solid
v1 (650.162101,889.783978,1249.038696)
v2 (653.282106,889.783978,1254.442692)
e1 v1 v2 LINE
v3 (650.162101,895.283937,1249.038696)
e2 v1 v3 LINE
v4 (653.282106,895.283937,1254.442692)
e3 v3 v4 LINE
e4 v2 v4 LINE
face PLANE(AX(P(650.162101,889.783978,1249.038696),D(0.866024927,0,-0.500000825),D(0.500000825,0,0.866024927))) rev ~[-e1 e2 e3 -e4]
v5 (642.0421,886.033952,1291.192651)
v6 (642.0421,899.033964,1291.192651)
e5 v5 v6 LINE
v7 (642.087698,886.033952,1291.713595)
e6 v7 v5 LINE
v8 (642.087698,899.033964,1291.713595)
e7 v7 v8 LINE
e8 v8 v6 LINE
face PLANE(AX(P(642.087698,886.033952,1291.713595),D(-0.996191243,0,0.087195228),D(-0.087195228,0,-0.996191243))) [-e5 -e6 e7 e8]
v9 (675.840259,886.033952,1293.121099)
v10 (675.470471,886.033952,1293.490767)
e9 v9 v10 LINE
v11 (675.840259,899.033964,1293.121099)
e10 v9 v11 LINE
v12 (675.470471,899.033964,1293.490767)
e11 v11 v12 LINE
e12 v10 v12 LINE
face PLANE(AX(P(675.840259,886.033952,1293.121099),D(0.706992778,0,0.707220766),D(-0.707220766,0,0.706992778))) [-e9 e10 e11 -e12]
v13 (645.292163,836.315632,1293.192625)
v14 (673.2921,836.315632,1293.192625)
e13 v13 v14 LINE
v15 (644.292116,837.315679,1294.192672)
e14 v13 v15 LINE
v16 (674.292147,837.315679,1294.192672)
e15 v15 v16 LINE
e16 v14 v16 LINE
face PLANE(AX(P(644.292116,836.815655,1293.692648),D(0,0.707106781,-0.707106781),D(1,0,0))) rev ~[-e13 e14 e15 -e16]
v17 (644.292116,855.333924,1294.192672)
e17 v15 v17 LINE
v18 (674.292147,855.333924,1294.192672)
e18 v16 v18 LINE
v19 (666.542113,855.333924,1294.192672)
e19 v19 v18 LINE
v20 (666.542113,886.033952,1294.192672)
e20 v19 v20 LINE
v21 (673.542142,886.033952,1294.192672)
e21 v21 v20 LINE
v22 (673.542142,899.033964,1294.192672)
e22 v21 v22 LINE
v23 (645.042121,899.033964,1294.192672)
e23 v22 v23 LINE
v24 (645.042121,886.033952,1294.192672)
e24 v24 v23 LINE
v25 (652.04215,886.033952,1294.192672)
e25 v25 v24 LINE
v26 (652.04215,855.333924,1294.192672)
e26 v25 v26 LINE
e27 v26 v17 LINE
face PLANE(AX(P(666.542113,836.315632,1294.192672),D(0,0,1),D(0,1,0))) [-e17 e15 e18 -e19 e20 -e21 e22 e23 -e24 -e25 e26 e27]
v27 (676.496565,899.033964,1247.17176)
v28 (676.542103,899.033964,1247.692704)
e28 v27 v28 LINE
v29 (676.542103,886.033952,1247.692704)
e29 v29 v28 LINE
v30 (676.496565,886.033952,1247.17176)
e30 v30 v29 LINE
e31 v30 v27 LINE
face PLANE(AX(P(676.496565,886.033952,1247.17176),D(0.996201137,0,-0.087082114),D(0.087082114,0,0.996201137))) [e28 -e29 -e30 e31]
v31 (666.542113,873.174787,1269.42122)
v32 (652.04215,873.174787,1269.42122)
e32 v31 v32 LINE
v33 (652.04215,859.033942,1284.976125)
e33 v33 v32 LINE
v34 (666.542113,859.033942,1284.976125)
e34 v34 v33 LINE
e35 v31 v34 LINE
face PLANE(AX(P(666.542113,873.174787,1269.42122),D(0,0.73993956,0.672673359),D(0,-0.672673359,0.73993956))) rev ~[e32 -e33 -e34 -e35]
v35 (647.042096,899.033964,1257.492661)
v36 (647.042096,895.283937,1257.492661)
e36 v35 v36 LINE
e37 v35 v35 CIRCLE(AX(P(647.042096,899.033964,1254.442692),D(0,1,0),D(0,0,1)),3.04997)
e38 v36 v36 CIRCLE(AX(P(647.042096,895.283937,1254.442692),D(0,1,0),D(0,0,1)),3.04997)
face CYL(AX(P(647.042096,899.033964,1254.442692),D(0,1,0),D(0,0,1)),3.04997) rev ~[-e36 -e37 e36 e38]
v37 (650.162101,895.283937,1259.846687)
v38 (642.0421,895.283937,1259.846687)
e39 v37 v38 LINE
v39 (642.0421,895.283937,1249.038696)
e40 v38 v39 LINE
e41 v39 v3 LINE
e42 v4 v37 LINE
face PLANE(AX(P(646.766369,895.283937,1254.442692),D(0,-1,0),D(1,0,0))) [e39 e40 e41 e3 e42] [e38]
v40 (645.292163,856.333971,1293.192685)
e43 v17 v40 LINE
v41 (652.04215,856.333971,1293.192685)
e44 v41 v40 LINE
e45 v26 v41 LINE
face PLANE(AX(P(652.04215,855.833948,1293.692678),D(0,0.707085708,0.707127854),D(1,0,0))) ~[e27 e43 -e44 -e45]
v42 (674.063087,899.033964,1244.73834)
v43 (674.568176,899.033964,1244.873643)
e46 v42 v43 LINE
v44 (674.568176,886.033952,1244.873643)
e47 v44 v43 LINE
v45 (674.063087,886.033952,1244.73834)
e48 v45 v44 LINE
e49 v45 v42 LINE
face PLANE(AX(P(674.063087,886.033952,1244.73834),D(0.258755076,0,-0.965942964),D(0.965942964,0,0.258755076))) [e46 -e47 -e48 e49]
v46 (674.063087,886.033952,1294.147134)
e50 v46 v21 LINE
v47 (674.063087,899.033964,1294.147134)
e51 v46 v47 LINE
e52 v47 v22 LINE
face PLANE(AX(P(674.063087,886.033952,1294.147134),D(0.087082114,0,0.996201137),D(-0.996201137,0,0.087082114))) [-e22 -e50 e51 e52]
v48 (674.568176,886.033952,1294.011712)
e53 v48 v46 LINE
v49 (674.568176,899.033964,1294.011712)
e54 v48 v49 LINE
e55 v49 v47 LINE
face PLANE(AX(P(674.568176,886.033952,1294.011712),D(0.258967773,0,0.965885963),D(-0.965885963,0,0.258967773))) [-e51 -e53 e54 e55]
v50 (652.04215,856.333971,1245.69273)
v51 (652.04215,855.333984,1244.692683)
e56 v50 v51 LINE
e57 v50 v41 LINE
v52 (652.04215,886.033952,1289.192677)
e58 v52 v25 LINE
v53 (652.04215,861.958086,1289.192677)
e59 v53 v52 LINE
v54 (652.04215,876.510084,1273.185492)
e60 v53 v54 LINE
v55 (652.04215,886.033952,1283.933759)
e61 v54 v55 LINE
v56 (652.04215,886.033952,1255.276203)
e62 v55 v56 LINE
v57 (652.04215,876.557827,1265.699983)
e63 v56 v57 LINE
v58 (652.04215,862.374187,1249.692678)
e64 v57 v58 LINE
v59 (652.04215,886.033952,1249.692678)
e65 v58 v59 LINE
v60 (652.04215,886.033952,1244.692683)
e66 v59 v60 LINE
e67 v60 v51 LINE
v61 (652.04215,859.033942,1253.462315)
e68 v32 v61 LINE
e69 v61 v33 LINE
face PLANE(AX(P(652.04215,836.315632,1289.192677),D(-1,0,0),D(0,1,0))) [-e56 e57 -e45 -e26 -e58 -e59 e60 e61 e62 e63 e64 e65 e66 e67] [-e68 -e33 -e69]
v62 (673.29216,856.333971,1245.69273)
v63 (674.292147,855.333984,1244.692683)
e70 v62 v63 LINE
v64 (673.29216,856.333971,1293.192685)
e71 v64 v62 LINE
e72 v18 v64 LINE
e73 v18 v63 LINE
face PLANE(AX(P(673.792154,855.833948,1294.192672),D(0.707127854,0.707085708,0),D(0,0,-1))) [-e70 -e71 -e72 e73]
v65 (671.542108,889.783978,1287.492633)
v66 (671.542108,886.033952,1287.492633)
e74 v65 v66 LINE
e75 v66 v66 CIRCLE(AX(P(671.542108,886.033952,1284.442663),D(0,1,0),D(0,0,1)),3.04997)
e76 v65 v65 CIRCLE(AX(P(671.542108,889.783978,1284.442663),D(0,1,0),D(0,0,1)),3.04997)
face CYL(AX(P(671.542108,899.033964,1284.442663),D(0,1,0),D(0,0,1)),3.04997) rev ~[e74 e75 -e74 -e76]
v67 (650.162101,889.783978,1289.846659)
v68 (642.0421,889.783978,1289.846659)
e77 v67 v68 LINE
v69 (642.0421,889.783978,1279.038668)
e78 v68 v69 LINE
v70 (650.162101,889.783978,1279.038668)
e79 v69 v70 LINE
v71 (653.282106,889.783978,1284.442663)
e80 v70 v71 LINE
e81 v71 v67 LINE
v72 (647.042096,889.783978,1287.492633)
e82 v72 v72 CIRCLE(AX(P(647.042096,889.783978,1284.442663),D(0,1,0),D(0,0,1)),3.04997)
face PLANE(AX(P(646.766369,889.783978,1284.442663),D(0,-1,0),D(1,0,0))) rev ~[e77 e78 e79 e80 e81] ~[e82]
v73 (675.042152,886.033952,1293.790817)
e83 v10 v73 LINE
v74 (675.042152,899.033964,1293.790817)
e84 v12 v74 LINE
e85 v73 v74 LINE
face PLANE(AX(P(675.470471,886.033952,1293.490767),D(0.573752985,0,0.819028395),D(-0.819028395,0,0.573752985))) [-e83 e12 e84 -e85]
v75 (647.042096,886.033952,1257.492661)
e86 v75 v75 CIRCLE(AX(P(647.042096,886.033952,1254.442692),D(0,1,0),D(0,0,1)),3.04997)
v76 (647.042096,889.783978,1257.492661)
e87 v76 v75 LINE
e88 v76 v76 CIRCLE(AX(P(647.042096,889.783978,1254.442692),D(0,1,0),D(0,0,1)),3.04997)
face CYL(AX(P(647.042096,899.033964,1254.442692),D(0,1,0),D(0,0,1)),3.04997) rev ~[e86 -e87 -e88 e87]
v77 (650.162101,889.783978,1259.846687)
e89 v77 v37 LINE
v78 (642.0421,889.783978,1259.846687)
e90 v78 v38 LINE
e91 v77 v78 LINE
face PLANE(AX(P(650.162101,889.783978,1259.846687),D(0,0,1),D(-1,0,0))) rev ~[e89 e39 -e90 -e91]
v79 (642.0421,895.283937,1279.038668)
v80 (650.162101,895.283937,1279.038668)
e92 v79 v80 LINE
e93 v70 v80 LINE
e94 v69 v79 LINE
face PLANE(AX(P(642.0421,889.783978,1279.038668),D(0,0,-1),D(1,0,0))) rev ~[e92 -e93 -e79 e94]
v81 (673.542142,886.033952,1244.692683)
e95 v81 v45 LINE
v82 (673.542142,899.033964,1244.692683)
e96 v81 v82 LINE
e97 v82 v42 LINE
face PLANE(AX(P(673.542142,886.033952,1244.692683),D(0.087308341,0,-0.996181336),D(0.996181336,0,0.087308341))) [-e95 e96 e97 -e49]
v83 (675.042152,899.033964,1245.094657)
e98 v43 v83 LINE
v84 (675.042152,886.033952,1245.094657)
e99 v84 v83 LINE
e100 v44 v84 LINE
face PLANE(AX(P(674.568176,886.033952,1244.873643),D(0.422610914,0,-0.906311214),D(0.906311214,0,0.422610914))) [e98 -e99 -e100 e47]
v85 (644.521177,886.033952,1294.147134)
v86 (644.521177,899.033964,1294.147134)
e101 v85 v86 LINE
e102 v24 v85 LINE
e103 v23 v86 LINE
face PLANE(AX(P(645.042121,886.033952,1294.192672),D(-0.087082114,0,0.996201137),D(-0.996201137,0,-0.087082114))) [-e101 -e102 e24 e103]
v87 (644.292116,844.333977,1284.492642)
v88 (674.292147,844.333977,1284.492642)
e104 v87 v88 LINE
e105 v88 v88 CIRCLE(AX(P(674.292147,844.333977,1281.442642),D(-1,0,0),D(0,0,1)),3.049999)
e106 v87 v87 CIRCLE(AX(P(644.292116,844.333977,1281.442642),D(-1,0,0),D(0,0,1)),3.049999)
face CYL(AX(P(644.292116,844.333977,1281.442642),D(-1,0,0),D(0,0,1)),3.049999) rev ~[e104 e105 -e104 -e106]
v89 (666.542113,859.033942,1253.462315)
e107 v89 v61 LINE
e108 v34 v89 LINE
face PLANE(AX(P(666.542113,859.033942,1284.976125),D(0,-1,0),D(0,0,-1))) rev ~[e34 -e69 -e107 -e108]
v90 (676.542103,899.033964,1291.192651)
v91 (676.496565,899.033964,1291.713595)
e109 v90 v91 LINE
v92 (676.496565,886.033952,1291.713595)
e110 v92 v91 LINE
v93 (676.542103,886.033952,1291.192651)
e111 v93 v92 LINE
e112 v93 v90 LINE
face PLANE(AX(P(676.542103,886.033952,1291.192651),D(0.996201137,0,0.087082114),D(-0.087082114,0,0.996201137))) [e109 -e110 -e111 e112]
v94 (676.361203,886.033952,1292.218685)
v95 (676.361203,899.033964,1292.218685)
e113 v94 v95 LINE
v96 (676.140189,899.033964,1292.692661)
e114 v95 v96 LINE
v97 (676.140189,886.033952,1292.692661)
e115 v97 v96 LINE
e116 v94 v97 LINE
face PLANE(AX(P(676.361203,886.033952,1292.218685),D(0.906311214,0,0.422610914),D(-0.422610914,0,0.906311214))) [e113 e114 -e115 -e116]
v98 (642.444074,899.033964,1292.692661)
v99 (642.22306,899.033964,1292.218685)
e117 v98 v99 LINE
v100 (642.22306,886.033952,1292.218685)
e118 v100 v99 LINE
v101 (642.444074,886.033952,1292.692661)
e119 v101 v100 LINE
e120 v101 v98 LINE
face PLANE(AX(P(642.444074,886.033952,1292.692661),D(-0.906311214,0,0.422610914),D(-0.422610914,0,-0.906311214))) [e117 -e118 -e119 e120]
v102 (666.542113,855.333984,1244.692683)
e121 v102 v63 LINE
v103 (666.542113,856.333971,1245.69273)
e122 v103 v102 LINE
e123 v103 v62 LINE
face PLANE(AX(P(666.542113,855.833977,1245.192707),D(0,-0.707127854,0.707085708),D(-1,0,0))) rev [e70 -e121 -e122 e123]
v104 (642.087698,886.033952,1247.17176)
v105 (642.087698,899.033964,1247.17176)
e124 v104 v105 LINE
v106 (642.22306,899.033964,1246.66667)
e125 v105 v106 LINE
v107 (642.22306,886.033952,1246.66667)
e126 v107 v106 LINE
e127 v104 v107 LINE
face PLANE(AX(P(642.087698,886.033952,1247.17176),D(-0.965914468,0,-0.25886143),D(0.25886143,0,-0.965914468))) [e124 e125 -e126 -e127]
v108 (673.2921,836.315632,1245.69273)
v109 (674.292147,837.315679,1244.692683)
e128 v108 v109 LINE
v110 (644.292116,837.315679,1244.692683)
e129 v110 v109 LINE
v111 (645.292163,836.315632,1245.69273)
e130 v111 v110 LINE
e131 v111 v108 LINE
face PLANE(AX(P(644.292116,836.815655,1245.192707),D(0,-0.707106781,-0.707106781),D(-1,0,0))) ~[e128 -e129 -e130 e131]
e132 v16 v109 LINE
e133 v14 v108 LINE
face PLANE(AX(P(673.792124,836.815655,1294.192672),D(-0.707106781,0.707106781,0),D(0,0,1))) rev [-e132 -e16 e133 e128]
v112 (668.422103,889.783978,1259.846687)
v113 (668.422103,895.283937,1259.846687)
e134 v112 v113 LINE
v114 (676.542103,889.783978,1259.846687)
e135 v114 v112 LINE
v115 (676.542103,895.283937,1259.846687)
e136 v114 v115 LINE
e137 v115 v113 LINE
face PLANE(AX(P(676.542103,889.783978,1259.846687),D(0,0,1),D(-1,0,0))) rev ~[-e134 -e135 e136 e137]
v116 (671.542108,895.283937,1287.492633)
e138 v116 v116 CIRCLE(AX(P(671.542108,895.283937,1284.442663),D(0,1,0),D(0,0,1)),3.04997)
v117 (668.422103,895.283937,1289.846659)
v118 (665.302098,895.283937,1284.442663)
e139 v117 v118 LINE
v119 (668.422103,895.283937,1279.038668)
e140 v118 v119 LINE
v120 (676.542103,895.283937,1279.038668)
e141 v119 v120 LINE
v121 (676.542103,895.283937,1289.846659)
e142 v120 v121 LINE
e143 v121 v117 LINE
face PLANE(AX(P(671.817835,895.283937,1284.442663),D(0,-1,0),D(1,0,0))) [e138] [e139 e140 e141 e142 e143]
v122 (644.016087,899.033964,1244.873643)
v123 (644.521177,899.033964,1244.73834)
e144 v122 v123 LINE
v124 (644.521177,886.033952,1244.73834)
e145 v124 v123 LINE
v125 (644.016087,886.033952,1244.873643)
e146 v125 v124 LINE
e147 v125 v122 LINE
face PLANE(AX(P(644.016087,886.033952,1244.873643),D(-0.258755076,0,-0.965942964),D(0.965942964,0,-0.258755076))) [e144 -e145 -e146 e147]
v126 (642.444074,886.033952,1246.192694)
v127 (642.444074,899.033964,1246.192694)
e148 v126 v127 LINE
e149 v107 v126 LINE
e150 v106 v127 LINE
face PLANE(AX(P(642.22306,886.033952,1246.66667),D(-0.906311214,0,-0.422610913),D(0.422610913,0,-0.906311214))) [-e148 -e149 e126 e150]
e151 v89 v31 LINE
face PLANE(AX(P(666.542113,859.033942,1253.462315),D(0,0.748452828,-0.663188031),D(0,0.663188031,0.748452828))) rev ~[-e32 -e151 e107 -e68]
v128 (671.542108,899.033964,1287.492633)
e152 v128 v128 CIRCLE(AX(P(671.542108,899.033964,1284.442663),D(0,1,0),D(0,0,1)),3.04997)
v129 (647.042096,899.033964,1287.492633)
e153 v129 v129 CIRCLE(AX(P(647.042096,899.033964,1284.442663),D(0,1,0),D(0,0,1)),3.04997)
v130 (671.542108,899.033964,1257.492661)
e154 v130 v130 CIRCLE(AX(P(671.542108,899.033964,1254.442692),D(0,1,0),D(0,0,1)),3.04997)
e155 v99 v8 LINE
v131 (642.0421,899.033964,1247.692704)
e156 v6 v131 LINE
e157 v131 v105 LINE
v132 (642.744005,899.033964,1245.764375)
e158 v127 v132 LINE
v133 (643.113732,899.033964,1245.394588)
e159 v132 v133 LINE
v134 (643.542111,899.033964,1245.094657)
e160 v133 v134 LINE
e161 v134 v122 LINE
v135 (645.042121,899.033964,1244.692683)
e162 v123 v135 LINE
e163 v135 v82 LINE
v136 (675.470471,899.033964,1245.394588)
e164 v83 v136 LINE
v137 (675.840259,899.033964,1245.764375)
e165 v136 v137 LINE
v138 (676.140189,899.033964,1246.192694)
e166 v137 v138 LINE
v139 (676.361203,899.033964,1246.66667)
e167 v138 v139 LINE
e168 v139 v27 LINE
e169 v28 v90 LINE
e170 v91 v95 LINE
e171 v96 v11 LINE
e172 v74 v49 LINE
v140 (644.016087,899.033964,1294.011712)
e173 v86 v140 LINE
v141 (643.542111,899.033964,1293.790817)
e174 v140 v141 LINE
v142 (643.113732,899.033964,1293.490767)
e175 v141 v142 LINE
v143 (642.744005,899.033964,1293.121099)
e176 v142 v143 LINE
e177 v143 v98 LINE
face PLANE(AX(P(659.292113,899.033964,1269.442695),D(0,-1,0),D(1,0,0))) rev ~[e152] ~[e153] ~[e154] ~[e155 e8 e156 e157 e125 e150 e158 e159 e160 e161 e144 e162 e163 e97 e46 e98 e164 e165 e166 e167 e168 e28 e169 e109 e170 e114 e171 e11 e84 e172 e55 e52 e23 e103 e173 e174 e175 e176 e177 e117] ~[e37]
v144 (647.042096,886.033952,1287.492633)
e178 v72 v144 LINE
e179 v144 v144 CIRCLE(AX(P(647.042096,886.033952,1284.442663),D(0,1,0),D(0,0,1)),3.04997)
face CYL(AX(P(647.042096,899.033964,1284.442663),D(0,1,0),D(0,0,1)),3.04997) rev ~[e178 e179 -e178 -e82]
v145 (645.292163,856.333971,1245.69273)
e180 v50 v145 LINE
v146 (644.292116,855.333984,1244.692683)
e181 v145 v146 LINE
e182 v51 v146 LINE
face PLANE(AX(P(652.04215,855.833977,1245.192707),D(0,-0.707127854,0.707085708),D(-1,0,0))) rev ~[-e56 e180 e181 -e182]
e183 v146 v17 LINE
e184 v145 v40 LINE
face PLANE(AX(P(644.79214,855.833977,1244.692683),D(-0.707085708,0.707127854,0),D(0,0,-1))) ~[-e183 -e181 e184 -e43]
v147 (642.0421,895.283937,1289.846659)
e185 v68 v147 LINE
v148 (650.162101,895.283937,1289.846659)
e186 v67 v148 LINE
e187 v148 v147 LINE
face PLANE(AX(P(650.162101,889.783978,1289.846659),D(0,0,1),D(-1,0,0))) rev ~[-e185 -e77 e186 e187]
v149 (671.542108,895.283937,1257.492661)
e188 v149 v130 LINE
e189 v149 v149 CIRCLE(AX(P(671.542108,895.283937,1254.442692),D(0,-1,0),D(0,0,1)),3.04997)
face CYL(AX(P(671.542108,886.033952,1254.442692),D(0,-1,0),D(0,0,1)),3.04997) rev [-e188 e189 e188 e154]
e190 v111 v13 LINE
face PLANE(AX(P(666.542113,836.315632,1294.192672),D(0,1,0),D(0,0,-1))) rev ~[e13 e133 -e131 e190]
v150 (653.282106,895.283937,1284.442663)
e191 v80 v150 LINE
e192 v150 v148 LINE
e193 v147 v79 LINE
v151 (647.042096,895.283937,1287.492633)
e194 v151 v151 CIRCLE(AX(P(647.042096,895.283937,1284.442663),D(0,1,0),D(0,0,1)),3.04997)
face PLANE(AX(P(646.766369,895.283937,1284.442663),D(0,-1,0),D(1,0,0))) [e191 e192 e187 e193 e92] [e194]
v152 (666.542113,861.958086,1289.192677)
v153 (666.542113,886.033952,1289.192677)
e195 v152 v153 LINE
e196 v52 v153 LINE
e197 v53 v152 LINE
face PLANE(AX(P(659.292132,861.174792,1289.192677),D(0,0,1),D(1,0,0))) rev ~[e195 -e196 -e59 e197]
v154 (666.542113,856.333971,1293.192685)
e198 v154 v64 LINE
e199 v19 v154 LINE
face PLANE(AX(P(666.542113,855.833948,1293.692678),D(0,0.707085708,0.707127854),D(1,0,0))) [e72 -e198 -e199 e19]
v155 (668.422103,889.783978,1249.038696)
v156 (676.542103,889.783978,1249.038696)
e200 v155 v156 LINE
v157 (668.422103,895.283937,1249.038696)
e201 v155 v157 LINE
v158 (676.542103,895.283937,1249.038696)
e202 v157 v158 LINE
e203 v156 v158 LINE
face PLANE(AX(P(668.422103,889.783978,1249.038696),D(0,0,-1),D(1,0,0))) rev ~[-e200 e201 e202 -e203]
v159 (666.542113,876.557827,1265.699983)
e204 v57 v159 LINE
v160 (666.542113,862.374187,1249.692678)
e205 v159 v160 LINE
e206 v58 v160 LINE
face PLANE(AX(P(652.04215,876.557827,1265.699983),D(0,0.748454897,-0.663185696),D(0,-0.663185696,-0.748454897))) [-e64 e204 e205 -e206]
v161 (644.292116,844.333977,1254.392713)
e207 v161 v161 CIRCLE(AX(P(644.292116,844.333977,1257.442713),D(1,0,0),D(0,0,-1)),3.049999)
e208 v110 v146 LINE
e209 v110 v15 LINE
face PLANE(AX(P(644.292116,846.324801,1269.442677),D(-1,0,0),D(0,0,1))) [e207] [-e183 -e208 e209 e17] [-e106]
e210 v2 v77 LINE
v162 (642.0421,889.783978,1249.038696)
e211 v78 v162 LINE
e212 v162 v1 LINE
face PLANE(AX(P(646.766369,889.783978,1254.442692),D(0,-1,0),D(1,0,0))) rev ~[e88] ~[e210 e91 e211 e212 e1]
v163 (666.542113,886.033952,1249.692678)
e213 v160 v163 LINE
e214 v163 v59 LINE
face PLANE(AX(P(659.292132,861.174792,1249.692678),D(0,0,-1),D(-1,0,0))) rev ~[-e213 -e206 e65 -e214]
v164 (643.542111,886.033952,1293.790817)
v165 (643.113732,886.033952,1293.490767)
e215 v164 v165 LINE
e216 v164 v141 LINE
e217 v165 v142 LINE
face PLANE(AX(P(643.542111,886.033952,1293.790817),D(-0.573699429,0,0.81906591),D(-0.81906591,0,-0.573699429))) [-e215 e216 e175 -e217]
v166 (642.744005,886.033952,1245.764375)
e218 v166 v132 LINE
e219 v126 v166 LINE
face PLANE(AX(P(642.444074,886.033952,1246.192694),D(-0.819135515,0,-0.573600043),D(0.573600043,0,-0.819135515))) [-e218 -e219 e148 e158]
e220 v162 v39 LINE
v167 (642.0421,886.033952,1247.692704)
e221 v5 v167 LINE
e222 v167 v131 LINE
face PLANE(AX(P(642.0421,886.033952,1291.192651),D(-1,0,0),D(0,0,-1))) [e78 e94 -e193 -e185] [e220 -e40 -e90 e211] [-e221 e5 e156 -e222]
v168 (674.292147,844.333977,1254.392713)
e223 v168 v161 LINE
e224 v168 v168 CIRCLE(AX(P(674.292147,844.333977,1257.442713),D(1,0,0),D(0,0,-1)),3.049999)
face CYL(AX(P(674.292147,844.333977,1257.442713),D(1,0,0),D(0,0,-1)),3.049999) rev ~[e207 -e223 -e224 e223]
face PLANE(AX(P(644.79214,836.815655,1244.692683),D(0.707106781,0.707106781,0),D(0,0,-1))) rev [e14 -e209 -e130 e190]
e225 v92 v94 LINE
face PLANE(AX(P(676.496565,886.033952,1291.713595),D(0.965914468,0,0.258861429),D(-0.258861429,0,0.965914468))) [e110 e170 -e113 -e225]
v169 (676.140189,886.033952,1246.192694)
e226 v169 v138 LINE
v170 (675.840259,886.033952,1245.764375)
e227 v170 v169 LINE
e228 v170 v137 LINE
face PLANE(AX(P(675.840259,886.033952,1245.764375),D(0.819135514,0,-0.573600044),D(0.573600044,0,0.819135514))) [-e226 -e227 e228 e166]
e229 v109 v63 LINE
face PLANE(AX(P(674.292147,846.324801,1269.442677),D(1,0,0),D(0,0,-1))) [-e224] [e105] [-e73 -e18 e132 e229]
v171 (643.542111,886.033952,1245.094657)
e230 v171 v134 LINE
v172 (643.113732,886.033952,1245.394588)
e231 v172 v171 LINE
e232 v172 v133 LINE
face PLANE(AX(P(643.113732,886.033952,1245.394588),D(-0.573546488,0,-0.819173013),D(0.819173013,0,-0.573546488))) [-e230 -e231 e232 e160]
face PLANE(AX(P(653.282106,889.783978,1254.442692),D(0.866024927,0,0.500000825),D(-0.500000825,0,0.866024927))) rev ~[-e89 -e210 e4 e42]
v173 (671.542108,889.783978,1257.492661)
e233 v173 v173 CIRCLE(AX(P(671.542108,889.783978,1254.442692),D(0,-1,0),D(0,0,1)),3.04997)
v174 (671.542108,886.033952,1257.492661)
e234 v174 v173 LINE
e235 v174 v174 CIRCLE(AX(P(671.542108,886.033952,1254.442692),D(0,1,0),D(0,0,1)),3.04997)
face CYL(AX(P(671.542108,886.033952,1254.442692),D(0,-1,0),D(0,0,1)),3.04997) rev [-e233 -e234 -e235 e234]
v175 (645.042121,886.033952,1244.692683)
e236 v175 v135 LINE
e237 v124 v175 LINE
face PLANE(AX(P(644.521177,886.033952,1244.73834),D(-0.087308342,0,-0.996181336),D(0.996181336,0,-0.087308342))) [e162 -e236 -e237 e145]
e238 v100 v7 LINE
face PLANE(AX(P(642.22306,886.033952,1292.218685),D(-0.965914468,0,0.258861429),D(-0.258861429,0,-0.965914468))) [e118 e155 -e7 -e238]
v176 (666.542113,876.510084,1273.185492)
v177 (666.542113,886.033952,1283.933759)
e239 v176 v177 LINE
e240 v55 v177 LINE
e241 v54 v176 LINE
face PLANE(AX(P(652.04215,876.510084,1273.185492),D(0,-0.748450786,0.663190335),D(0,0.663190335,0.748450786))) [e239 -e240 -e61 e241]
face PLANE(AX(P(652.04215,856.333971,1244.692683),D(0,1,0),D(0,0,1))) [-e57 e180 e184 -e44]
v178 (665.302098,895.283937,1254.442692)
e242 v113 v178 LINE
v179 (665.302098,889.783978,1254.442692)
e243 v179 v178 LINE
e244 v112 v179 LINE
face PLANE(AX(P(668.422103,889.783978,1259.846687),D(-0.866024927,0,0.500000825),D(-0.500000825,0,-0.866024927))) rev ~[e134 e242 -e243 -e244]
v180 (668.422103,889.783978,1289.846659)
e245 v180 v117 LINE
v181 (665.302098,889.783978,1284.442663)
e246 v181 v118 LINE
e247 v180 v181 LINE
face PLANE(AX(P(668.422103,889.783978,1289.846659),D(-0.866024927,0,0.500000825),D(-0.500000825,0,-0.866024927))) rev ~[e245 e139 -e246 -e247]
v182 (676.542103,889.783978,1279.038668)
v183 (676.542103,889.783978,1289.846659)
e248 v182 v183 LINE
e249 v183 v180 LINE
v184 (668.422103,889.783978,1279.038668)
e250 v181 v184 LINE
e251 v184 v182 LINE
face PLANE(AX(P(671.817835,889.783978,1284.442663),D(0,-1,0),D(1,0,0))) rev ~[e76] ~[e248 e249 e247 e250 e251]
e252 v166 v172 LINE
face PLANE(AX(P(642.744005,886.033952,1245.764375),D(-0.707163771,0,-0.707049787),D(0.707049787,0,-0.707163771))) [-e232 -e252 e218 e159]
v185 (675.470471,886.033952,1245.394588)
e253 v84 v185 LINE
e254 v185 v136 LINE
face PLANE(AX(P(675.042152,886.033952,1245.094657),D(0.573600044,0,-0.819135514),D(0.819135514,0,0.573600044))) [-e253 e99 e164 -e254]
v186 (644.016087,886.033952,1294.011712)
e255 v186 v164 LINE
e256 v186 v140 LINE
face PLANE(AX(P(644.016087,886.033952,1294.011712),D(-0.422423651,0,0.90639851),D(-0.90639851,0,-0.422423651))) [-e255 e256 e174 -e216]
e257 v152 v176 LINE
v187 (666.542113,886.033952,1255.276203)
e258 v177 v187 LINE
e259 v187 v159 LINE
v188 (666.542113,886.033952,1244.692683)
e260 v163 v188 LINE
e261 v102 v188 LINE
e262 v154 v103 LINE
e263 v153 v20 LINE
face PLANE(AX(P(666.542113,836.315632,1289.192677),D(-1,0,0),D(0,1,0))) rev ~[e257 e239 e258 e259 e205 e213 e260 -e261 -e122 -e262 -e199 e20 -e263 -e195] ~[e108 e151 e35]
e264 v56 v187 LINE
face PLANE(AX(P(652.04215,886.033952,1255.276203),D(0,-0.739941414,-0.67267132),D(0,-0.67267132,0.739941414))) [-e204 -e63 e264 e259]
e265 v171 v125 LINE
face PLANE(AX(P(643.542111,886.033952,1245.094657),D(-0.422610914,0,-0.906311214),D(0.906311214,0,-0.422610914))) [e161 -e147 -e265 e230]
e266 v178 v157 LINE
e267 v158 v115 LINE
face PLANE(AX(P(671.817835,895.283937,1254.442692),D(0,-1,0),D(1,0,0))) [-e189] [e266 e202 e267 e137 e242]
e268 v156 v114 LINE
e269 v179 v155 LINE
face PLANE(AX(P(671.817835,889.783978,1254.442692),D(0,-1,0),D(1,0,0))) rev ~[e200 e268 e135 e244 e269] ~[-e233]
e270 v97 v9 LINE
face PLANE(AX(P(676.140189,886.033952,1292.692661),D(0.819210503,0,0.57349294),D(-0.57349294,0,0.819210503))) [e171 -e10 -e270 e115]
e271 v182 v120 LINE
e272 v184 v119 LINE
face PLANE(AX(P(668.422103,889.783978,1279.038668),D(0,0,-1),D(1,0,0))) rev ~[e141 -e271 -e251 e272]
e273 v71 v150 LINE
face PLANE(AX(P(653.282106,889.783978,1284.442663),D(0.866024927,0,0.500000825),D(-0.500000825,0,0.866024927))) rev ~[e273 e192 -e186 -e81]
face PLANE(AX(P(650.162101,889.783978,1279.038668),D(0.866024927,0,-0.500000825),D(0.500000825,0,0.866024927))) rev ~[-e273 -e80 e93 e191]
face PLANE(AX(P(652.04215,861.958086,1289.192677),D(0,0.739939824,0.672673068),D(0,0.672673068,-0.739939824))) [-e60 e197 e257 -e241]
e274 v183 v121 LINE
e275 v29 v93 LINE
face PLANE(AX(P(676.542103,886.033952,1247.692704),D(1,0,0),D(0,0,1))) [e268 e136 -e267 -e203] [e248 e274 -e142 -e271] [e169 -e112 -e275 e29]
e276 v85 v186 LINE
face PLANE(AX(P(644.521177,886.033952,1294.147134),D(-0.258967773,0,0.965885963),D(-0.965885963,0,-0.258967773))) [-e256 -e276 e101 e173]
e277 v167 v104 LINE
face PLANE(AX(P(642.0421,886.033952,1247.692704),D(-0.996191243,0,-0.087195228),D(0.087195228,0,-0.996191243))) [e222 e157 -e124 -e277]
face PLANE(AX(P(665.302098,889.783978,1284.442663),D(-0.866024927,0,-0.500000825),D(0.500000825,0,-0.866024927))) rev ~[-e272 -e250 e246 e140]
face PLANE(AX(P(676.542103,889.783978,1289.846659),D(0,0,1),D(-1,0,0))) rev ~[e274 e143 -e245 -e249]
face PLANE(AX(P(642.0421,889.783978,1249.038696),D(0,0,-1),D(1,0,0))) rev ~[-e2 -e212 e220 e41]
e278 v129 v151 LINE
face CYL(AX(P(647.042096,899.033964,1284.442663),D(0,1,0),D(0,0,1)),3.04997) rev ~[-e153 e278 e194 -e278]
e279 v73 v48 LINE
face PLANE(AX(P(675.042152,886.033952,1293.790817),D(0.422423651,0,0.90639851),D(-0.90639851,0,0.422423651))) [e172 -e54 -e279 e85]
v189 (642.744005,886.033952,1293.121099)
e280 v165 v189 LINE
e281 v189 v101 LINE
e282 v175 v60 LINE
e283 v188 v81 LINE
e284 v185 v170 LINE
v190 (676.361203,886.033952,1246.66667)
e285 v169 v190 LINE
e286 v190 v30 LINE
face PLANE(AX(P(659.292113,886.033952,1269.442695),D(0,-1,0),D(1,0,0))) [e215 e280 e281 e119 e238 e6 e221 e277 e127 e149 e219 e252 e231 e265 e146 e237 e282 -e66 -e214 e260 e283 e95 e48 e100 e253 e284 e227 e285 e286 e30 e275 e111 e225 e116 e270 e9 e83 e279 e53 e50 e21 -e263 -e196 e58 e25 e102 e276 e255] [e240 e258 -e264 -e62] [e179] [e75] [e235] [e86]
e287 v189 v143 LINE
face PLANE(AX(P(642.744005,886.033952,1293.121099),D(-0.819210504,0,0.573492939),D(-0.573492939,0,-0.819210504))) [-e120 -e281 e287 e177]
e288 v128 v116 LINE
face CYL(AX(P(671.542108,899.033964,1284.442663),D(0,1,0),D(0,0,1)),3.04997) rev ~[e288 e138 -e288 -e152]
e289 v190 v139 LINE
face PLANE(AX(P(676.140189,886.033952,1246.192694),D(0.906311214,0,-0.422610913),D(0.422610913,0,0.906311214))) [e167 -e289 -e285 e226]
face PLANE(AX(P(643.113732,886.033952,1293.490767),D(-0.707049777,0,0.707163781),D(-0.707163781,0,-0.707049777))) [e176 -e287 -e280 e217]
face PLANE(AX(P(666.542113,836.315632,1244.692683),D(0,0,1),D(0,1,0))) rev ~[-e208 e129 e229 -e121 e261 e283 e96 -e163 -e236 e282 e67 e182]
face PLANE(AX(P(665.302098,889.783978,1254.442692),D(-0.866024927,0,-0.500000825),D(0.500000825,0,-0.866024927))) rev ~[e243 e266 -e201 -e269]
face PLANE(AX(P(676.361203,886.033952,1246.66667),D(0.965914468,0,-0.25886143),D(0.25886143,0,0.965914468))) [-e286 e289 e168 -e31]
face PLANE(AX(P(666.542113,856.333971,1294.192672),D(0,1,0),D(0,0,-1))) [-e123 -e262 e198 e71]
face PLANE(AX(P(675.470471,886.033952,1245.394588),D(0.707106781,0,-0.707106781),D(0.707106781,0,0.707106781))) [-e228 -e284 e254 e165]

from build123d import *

# Parameters (mm, degrees)
BOSS_EXTRUDE1_DEPTH = 14.49996233
SKETCH2_W           = 14.49996233
SKETCH2_H           = 39.499998092
BOSS_EXTRUDE2_DEPTH = 25.642454624
SKETCH3_W           = 14.49996233
SKETCH3_H           = 49.71832037
BOSS_EXTRUDE3_DEPTH = 4.999995232
SKETCH4_W           = 14.49996233
SKETCH4_H           = 49.71832037
BOSS_EXTRUDE4_DEPTH = 4.999995232
BOSS_EXTRUDE5_DEPTH = 13.000011444
SKETCH6_W           = 49.499988556
SKETCH6_H           = 20.018339158
BOSS_EXTRUDE6_DEPTH = 7.750034332
SKETCH7_W           = 49.499988556
SKETCH7_H           = 20.018339158
BOSS_EXTRUDE7_DEPTH = 7.750034332
CUT_EXTRUDE1_DEPTH  = 5.499958992
CUT_EXTRUDE2_START  = -13.000012
SKETCH9_R           = 3.049969673
CUT_EXTRUDE2_DEPTH  = 13.000012
CUT_EXTRUDE3_DEPTH  = 5.499958992
CUT_EXTRUDE4_REACH  = 1463.704
SKETCH11_R          = 3.049969673
CUT_EXTRUDE5_DEPTH  = 5.499958992
CUT_EXTRUDE6_REACH  = 1463.704
SKETCH13_R          = 3.049969673
CUT_EXTRUDE7_DEPTH  = 5.499958992
CUT_EXTRUDE8_REACH  = 1463.704
SKETCH15_R          = 3.049969673
SKETCH16_R          = 3.049999475
CUT_EXTRUDE9_DEPTH  = 1577.146186494
SKETCH17_R          = 3.049999475
CUT_EXTRUDE10_DEPTH = 1577.146187713
CUT_EXTRUDE15_DEPTH = 1577.006659293
CHAMFER1_SIZE2      = 0.999987125
CHAMFER1_SIZE       = 1.00004673
CHAMFER2_SIZE       = 1.00004673


with BuildPart() as part:
    # Sketch1 → Boss-Extrude1 (new body)
    with BuildSketch(Plane(origin=(652.042150497, 0, 0), x_dir=(0, -1, 0), z_dir=(-1, 0, 0))):
        Polygon((-861.958086491, 1249.692678452), (-861.958086491, 1289.192676544), (-876.510083675, 1273.185491562), (-886.033952236, 1283.933758736), (-886.033952236, 1255.276203156), (-876.557826996, 1265.699982643), (-862.374186516, 1249.692678452), align=None)
    extrude(amount=-BOSS_EXTRUDE1_DEPTH)

    # Sketch2 → Boss-Extrude2 (add)
    with BuildSketch(Plane.XZ.offset(-861.958086491)):
        with Locations((659.292131662, 1269.442677498)):
            Rectangle(SKETCH2_W, SKETCH2_H)
    extrude(amount=BOSS_EXTRUDE2_DEPTH)

    # Sketch3 → Boss-Extrude3 (add)
    with BuildSketch(Plane(origin=(0, 0, 1249.692678452), x_dir=(-1, 0, 0), z_dir=(0, 0, -1))):
        with Locations((-659.292131662, 861.174792051)):
            Rectangle(SKETCH3_W, SKETCH3_H)
    extrude(amount=BOSS_EXTRUDE3_DEPTH)

    # Sketch4 → Boss-Extrude4 (add)
    with BuildSketch(Plane.XY.offset(1289.192676544)):
        with Locations((659.292131662, 861.174792051)):
            Rectangle(SKETCH4_W, SKETCH4_H)
    extrude(amount=BOSS_EXTRUDE4_DEPTH)

    # Sketch5 → Boss-Extrude5 (add)
    with BuildSketch(Plane(origin=(0, 886.033952236, 0), x_dir=(-1, 0, 0), z_dir=(0, 1, 0))):
        Polygon((-642.744004726, 1245.764374733), (-643.113732338, 1245.394587517), (-643.54211092, 1245.094656944), (-644.016087055, 1244.873642921), (-644.521176815, 1244.738340378), (-645.04212141, 1244.69268322), (-673.542141914, 1244.69268322), (-674.06308651, 1244.738340378), (-674.56817627, 1244.873642921), (-675.042152405, 1245.094656944), (-675.470471382, 1245.394587517), (-675.840258598, 1245.764374733), (-676.140189171, 1246.19269371), (-676.361203194, 1246.666669846), (-676.496565342, 1247.171759605), (-676.542103291, 1247.692704201), (-676.542103291, 1291.192650795), (-676.496565342, 1291.71359539), (-676.361203194, 1292.21868515), (-676.140189171, 1292.692661285), (-675.840258598, 1293.121099472), (-675.470471382, 1293.490767479), (-675.042152405, 1293.790817261), (-674.56817627, 1294.011712074), (-674.06308651, 1294.147133827), (-673.542141914, 1294.192671776), (-645.04212141, 1294.192671776), (-644.521176815, 1294.147133827), (-644.016087055, 1294.011712074), (-643.54211092, 1293.790817261), (-643.113732338, 1293.490767479), (-642.744004726, 1293.121099472), (-642.444074154, 1292.692661285), (-642.223060131, 1292.21868515), (-642.087697983, 1291.71359539), (-642.04210043, 1291.192650795), (-642.04210043, 1247.692704201), (-642.087697983, 1247.171759605), (-642.223060131, 1246.666669846), (-642.444074154, 1246.19269371), align=None)
    extrude(amount=BOSS_EXTRUDE5_DEPTH)

    # Sketch6 → Boss-Extrude6 (add)
    with BuildSketch(Plane.ZY.offset(-652.042150497)):
        with Locations((1269.442677498, 846.324801445)):
            Rectangle(SKETCH6_W, SKETCH6_H)
    extrude(amount=BOSS_EXTRUDE6_DEPTH)

    # Sketch7 → Boss-Extrude7 (add)
    with BuildSketch(Plane(origin=(666.542112827, 0, 0), x_dir=(0, 0, -1), z_dir=(1, 0, 0))):
        with Locations((-1269.442677498, 846.324801445)):
            Rectangle(SKETCH7_W, SKETCH7_H)
    extrude(amount=BOSS_EXTRUDE7_DEPTH)

    # Sketch8 → Cut-Extrude1 (cut)
    with BuildSketch(Plane.XZ.offset(-889.783978462)):
        Polygon((676.542103291, 1259.846687317), (668.422102928, 1259.846687317), (665.302097797, 1254.442691803), (668.422102928, 1249.038696289), (676.542103291, 1249.038696289), align=None)
    extrude(amount=-CUT_EXTRUDE1_DEPTH, mode=Mode.SUBTRACT)

    # Sketch9 → Cut-Extrude2 (cut)
    with BuildSketch(Plane(origin=(0, 899.03396368, 0), x_dir=(-1, 0, 0), z_dir=(0, 1, 0)).offset(CUT_EXTRUDE2_START)):
        with Locations(Location((-671.542108059, 1254.442691803, 0), (0, 0, 90))):
            Circle(SKETCH9_R)
    extrude(amount=CUT_EXTRUDE2_DEPTH, mode=Mode.SUBTRACT)

    # Sketch10 → Cut-Extrude3 (cut)
    with BuildSketch(Plane.XZ.offset(-889.783978462)):
        Polygon((642.04210043, 1249.038696289), (650.162100792, 1249.038696289), (653.282105923, 1254.442691803), (650.162100792, 1259.846687317), (642.04210043, 1259.846687317), align=None)
    extrude(amount=-CUT_EXTRUDE3_DEPTH, mode=Mode.SUBTRACT)

    # Cut-Extrude4: up to this face of the body (flat: up to its plane)
    cut_extrude4_end = Plane(part.part.faces().sort_by_distance((643.088277536, 886.033952236, 1246.324624689))[0])
    # Sketch11 → Cut-Extrude4 (cut, up to the picked face)
    with BuildSketch(Plane(origin=(0, 899.03396368, 0), x_dir=(-1, 0, 0), z_dir=(0, 1, 0)), mode=Mode.PRIVATE) as cut_extrude4_sk1:
        with Locations(Location((-647.042095661, 1254.442691803, 0), (0, 0, 90))):
            Circle(SKETCH11_R)
    cut_extrude4_tool1 = split(extrude(cut_extrude4_sk1.sketch, amount=-CUT_EXTRUDE4_REACH, mode=Mode.PRIVATE), bisect_by=cut_extrude4_end, keep=Keep.BOTH, mode=Mode.PRIVATE)
    add(cut_extrude4_tool1.solids().sort_by(Axis((647.042096, 899.033964, 1254.442692), (0, -1, 0)))[0], mode=Mode.SUBTRACT)

    # Sketch12 → Cut-Extrude5 (cut)
    with BuildSketch(Plane.XZ.offset(-889.783978462)):
        Polygon((642.04210043, 1279.038667679), (650.162100792, 1279.038667679), (653.282105923, 1284.442663193), (650.162100792, 1289.846658707), (642.04210043, 1289.846658707), align=None)
    extrude(amount=-CUT_EXTRUDE5_DEPTH, mode=Mode.SUBTRACT)

    # Cut-Extrude6: up to this face of the body (flat: up to its plane)
    cut_extrude6_end = Plane(part.part.faces().sort_by_distance((643.088277536, 886.033952236, 1246.324624689))[0])
    # Sketch13 → Cut-Extrude6 (cut, up to the picked face)
    with BuildSketch(Plane(origin=(0, 899.03396368, 0), x_dir=(-1, 0, 0), z_dir=(0, 1, 0)), mode=Mode.PRIVATE) as cut_extrude6_sk1:
        with Locations(Location((-647.042095661, 1284.442663193, 0), (0, 0, 90))):
            Circle(SKETCH13_R)
    cut_extrude6_tool1 = split(extrude(cut_extrude6_sk1.sketch, amount=-CUT_EXTRUDE6_REACH, mode=Mode.PRIVATE), bisect_by=cut_extrude6_end, keep=Keep.BOTH, mode=Mode.PRIVATE)
    add(cut_extrude6_tool1.solids().sort_by(Axis((647.042096, 899.033964, 1284.442663), (0, -1, 0)))[0], mode=Mode.SUBTRACT)

    # Sketch14 → Cut-Extrude7 (cut)
    with BuildSketch(Plane.XZ.offset(-889.783978462)):
        Polygon((676.542103291, 1289.846658707), (668.422102928, 1289.846658707), (665.302097797, 1284.442663193), (668.422102928, 1279.038667679), (676.542103291, 1279.038667679), align=None)
    extrude(amount=-CUT_EXTRUDE7_DEPTH, mode=Mode.SUBTRACT)

    # Cut-Extrude8: up to this face of the body (flat: up to its plane)
    cut_extrude8_end = Plane(part.part.faces().sort_by_distance((643.088277536, 886.033952236, 1246.324624689))[0])
    # Sketch15 → Cut-Extrude8 (cut, up to the picked face)
    with BuildSketch(Plane(origin=(0, 899.03396368, 0), x_dir=(-1, 0, 0), z_dir=(0, 1, 0)), mode=Mode.PRIVATE) as cut_extrude8_sk1:
        with Locations(Location((-671.542108059, 1284.442663193, 0), (0, 0, 90))):
            Circle(SKETCH15_R)
    cut_extrude8_tool1 = split(extrude(cut_extrude8_sk1.sketch, amount=-CUT_EXTRUDE8_REACH, mode=Mode.PRIVATE), bisect_by=cut_extrude8_end, keep=Keep.BOTH, mode=Mode.PRIVATE)
    add(cut_extrude8_tool1.solids().sort_by(Axis((671.542108, 899.033964, 1284.442663), (0, -1, 0)))[0], mode=Mode.SUBTRACT)

    # Sketch16 → Cut-Extrude9 (cut, through all)
    with BuildSketch(Plane.ZY.offset(-644.292116165)):
        with Locations((1281.442642212, 844.333976507)):
            Circle(SKETCH16_R)
    extrude(amount=-CUT_EXTRUDE9_DEPTH, mode=Mode.SUBTRACT)

    # Sketch17 → Cut-Extrude10 (cut, through all)
    with BuildSketch(Plane(origin=(674.29214716, 0, 0), x_dir=(0, 0, -1), z_dir=(1, 0, 0))):
        with Locations((-1257.442712784, 844.333976507)):
            Circle(SKETCH17_R)
    extrude(amount=-CUT_EXTRUDE10_DEPTH, mode=Mode.SUBTRACT)

    # Sketch22 → Cut-Extrude15 (cut, through all)
    with BuildSketch(Plane(origin=(666.542112827, 0, 0), x_dir=(0, 0, -1), z_dir=(1, 0, 0))):
        Polygon((-1253.462314606, 859.033942223), (-1269.421219826, 873.174786568), (-1284.976124763, 859.033942223), align=None)
    extrude(amount=-CUT_EXTRUDE15_DEPTH, mode=Mode.SUBTRACT)

    # Chamfer1
    chamfer1_edges = [part.edges().sort_by_distance(p)[0] for p in [
        (648.167133331, 856.333971024, 1294.192671776),
        (648.167133331, 856.333971024, 1244.69268322),
        (644.292116165, 856.333971024, 1269.442677498),
        (670.417129993, 856.333971024, 1244.69268322),
        (670.417129993, 856.333971024, 1294.192671776),
        (674.29214716, 856.333971024, 1269.442677498),
    ]]
    chamfer(chamfer1_edges, length=CHAMFER1_SIZE, length2=CHAMFER1_SIZE2)

    # Chamfer2
    chamfer2_edges = [part.edges().sort_by_distance(p)[0] for p in [
        (644.292116165, 836.315631866, 1269.442677498),
        (674.29214716, 836.315631866, 1269.442677498),
        (659.292131662, 836.315631866, 1244.69268322),
        (659.292131662, 836.315631866, 1294.192671776),
    ]]
    chamfer(chamfer2_edges, length=CHAMFER2_SIZE)


solid = part.part
